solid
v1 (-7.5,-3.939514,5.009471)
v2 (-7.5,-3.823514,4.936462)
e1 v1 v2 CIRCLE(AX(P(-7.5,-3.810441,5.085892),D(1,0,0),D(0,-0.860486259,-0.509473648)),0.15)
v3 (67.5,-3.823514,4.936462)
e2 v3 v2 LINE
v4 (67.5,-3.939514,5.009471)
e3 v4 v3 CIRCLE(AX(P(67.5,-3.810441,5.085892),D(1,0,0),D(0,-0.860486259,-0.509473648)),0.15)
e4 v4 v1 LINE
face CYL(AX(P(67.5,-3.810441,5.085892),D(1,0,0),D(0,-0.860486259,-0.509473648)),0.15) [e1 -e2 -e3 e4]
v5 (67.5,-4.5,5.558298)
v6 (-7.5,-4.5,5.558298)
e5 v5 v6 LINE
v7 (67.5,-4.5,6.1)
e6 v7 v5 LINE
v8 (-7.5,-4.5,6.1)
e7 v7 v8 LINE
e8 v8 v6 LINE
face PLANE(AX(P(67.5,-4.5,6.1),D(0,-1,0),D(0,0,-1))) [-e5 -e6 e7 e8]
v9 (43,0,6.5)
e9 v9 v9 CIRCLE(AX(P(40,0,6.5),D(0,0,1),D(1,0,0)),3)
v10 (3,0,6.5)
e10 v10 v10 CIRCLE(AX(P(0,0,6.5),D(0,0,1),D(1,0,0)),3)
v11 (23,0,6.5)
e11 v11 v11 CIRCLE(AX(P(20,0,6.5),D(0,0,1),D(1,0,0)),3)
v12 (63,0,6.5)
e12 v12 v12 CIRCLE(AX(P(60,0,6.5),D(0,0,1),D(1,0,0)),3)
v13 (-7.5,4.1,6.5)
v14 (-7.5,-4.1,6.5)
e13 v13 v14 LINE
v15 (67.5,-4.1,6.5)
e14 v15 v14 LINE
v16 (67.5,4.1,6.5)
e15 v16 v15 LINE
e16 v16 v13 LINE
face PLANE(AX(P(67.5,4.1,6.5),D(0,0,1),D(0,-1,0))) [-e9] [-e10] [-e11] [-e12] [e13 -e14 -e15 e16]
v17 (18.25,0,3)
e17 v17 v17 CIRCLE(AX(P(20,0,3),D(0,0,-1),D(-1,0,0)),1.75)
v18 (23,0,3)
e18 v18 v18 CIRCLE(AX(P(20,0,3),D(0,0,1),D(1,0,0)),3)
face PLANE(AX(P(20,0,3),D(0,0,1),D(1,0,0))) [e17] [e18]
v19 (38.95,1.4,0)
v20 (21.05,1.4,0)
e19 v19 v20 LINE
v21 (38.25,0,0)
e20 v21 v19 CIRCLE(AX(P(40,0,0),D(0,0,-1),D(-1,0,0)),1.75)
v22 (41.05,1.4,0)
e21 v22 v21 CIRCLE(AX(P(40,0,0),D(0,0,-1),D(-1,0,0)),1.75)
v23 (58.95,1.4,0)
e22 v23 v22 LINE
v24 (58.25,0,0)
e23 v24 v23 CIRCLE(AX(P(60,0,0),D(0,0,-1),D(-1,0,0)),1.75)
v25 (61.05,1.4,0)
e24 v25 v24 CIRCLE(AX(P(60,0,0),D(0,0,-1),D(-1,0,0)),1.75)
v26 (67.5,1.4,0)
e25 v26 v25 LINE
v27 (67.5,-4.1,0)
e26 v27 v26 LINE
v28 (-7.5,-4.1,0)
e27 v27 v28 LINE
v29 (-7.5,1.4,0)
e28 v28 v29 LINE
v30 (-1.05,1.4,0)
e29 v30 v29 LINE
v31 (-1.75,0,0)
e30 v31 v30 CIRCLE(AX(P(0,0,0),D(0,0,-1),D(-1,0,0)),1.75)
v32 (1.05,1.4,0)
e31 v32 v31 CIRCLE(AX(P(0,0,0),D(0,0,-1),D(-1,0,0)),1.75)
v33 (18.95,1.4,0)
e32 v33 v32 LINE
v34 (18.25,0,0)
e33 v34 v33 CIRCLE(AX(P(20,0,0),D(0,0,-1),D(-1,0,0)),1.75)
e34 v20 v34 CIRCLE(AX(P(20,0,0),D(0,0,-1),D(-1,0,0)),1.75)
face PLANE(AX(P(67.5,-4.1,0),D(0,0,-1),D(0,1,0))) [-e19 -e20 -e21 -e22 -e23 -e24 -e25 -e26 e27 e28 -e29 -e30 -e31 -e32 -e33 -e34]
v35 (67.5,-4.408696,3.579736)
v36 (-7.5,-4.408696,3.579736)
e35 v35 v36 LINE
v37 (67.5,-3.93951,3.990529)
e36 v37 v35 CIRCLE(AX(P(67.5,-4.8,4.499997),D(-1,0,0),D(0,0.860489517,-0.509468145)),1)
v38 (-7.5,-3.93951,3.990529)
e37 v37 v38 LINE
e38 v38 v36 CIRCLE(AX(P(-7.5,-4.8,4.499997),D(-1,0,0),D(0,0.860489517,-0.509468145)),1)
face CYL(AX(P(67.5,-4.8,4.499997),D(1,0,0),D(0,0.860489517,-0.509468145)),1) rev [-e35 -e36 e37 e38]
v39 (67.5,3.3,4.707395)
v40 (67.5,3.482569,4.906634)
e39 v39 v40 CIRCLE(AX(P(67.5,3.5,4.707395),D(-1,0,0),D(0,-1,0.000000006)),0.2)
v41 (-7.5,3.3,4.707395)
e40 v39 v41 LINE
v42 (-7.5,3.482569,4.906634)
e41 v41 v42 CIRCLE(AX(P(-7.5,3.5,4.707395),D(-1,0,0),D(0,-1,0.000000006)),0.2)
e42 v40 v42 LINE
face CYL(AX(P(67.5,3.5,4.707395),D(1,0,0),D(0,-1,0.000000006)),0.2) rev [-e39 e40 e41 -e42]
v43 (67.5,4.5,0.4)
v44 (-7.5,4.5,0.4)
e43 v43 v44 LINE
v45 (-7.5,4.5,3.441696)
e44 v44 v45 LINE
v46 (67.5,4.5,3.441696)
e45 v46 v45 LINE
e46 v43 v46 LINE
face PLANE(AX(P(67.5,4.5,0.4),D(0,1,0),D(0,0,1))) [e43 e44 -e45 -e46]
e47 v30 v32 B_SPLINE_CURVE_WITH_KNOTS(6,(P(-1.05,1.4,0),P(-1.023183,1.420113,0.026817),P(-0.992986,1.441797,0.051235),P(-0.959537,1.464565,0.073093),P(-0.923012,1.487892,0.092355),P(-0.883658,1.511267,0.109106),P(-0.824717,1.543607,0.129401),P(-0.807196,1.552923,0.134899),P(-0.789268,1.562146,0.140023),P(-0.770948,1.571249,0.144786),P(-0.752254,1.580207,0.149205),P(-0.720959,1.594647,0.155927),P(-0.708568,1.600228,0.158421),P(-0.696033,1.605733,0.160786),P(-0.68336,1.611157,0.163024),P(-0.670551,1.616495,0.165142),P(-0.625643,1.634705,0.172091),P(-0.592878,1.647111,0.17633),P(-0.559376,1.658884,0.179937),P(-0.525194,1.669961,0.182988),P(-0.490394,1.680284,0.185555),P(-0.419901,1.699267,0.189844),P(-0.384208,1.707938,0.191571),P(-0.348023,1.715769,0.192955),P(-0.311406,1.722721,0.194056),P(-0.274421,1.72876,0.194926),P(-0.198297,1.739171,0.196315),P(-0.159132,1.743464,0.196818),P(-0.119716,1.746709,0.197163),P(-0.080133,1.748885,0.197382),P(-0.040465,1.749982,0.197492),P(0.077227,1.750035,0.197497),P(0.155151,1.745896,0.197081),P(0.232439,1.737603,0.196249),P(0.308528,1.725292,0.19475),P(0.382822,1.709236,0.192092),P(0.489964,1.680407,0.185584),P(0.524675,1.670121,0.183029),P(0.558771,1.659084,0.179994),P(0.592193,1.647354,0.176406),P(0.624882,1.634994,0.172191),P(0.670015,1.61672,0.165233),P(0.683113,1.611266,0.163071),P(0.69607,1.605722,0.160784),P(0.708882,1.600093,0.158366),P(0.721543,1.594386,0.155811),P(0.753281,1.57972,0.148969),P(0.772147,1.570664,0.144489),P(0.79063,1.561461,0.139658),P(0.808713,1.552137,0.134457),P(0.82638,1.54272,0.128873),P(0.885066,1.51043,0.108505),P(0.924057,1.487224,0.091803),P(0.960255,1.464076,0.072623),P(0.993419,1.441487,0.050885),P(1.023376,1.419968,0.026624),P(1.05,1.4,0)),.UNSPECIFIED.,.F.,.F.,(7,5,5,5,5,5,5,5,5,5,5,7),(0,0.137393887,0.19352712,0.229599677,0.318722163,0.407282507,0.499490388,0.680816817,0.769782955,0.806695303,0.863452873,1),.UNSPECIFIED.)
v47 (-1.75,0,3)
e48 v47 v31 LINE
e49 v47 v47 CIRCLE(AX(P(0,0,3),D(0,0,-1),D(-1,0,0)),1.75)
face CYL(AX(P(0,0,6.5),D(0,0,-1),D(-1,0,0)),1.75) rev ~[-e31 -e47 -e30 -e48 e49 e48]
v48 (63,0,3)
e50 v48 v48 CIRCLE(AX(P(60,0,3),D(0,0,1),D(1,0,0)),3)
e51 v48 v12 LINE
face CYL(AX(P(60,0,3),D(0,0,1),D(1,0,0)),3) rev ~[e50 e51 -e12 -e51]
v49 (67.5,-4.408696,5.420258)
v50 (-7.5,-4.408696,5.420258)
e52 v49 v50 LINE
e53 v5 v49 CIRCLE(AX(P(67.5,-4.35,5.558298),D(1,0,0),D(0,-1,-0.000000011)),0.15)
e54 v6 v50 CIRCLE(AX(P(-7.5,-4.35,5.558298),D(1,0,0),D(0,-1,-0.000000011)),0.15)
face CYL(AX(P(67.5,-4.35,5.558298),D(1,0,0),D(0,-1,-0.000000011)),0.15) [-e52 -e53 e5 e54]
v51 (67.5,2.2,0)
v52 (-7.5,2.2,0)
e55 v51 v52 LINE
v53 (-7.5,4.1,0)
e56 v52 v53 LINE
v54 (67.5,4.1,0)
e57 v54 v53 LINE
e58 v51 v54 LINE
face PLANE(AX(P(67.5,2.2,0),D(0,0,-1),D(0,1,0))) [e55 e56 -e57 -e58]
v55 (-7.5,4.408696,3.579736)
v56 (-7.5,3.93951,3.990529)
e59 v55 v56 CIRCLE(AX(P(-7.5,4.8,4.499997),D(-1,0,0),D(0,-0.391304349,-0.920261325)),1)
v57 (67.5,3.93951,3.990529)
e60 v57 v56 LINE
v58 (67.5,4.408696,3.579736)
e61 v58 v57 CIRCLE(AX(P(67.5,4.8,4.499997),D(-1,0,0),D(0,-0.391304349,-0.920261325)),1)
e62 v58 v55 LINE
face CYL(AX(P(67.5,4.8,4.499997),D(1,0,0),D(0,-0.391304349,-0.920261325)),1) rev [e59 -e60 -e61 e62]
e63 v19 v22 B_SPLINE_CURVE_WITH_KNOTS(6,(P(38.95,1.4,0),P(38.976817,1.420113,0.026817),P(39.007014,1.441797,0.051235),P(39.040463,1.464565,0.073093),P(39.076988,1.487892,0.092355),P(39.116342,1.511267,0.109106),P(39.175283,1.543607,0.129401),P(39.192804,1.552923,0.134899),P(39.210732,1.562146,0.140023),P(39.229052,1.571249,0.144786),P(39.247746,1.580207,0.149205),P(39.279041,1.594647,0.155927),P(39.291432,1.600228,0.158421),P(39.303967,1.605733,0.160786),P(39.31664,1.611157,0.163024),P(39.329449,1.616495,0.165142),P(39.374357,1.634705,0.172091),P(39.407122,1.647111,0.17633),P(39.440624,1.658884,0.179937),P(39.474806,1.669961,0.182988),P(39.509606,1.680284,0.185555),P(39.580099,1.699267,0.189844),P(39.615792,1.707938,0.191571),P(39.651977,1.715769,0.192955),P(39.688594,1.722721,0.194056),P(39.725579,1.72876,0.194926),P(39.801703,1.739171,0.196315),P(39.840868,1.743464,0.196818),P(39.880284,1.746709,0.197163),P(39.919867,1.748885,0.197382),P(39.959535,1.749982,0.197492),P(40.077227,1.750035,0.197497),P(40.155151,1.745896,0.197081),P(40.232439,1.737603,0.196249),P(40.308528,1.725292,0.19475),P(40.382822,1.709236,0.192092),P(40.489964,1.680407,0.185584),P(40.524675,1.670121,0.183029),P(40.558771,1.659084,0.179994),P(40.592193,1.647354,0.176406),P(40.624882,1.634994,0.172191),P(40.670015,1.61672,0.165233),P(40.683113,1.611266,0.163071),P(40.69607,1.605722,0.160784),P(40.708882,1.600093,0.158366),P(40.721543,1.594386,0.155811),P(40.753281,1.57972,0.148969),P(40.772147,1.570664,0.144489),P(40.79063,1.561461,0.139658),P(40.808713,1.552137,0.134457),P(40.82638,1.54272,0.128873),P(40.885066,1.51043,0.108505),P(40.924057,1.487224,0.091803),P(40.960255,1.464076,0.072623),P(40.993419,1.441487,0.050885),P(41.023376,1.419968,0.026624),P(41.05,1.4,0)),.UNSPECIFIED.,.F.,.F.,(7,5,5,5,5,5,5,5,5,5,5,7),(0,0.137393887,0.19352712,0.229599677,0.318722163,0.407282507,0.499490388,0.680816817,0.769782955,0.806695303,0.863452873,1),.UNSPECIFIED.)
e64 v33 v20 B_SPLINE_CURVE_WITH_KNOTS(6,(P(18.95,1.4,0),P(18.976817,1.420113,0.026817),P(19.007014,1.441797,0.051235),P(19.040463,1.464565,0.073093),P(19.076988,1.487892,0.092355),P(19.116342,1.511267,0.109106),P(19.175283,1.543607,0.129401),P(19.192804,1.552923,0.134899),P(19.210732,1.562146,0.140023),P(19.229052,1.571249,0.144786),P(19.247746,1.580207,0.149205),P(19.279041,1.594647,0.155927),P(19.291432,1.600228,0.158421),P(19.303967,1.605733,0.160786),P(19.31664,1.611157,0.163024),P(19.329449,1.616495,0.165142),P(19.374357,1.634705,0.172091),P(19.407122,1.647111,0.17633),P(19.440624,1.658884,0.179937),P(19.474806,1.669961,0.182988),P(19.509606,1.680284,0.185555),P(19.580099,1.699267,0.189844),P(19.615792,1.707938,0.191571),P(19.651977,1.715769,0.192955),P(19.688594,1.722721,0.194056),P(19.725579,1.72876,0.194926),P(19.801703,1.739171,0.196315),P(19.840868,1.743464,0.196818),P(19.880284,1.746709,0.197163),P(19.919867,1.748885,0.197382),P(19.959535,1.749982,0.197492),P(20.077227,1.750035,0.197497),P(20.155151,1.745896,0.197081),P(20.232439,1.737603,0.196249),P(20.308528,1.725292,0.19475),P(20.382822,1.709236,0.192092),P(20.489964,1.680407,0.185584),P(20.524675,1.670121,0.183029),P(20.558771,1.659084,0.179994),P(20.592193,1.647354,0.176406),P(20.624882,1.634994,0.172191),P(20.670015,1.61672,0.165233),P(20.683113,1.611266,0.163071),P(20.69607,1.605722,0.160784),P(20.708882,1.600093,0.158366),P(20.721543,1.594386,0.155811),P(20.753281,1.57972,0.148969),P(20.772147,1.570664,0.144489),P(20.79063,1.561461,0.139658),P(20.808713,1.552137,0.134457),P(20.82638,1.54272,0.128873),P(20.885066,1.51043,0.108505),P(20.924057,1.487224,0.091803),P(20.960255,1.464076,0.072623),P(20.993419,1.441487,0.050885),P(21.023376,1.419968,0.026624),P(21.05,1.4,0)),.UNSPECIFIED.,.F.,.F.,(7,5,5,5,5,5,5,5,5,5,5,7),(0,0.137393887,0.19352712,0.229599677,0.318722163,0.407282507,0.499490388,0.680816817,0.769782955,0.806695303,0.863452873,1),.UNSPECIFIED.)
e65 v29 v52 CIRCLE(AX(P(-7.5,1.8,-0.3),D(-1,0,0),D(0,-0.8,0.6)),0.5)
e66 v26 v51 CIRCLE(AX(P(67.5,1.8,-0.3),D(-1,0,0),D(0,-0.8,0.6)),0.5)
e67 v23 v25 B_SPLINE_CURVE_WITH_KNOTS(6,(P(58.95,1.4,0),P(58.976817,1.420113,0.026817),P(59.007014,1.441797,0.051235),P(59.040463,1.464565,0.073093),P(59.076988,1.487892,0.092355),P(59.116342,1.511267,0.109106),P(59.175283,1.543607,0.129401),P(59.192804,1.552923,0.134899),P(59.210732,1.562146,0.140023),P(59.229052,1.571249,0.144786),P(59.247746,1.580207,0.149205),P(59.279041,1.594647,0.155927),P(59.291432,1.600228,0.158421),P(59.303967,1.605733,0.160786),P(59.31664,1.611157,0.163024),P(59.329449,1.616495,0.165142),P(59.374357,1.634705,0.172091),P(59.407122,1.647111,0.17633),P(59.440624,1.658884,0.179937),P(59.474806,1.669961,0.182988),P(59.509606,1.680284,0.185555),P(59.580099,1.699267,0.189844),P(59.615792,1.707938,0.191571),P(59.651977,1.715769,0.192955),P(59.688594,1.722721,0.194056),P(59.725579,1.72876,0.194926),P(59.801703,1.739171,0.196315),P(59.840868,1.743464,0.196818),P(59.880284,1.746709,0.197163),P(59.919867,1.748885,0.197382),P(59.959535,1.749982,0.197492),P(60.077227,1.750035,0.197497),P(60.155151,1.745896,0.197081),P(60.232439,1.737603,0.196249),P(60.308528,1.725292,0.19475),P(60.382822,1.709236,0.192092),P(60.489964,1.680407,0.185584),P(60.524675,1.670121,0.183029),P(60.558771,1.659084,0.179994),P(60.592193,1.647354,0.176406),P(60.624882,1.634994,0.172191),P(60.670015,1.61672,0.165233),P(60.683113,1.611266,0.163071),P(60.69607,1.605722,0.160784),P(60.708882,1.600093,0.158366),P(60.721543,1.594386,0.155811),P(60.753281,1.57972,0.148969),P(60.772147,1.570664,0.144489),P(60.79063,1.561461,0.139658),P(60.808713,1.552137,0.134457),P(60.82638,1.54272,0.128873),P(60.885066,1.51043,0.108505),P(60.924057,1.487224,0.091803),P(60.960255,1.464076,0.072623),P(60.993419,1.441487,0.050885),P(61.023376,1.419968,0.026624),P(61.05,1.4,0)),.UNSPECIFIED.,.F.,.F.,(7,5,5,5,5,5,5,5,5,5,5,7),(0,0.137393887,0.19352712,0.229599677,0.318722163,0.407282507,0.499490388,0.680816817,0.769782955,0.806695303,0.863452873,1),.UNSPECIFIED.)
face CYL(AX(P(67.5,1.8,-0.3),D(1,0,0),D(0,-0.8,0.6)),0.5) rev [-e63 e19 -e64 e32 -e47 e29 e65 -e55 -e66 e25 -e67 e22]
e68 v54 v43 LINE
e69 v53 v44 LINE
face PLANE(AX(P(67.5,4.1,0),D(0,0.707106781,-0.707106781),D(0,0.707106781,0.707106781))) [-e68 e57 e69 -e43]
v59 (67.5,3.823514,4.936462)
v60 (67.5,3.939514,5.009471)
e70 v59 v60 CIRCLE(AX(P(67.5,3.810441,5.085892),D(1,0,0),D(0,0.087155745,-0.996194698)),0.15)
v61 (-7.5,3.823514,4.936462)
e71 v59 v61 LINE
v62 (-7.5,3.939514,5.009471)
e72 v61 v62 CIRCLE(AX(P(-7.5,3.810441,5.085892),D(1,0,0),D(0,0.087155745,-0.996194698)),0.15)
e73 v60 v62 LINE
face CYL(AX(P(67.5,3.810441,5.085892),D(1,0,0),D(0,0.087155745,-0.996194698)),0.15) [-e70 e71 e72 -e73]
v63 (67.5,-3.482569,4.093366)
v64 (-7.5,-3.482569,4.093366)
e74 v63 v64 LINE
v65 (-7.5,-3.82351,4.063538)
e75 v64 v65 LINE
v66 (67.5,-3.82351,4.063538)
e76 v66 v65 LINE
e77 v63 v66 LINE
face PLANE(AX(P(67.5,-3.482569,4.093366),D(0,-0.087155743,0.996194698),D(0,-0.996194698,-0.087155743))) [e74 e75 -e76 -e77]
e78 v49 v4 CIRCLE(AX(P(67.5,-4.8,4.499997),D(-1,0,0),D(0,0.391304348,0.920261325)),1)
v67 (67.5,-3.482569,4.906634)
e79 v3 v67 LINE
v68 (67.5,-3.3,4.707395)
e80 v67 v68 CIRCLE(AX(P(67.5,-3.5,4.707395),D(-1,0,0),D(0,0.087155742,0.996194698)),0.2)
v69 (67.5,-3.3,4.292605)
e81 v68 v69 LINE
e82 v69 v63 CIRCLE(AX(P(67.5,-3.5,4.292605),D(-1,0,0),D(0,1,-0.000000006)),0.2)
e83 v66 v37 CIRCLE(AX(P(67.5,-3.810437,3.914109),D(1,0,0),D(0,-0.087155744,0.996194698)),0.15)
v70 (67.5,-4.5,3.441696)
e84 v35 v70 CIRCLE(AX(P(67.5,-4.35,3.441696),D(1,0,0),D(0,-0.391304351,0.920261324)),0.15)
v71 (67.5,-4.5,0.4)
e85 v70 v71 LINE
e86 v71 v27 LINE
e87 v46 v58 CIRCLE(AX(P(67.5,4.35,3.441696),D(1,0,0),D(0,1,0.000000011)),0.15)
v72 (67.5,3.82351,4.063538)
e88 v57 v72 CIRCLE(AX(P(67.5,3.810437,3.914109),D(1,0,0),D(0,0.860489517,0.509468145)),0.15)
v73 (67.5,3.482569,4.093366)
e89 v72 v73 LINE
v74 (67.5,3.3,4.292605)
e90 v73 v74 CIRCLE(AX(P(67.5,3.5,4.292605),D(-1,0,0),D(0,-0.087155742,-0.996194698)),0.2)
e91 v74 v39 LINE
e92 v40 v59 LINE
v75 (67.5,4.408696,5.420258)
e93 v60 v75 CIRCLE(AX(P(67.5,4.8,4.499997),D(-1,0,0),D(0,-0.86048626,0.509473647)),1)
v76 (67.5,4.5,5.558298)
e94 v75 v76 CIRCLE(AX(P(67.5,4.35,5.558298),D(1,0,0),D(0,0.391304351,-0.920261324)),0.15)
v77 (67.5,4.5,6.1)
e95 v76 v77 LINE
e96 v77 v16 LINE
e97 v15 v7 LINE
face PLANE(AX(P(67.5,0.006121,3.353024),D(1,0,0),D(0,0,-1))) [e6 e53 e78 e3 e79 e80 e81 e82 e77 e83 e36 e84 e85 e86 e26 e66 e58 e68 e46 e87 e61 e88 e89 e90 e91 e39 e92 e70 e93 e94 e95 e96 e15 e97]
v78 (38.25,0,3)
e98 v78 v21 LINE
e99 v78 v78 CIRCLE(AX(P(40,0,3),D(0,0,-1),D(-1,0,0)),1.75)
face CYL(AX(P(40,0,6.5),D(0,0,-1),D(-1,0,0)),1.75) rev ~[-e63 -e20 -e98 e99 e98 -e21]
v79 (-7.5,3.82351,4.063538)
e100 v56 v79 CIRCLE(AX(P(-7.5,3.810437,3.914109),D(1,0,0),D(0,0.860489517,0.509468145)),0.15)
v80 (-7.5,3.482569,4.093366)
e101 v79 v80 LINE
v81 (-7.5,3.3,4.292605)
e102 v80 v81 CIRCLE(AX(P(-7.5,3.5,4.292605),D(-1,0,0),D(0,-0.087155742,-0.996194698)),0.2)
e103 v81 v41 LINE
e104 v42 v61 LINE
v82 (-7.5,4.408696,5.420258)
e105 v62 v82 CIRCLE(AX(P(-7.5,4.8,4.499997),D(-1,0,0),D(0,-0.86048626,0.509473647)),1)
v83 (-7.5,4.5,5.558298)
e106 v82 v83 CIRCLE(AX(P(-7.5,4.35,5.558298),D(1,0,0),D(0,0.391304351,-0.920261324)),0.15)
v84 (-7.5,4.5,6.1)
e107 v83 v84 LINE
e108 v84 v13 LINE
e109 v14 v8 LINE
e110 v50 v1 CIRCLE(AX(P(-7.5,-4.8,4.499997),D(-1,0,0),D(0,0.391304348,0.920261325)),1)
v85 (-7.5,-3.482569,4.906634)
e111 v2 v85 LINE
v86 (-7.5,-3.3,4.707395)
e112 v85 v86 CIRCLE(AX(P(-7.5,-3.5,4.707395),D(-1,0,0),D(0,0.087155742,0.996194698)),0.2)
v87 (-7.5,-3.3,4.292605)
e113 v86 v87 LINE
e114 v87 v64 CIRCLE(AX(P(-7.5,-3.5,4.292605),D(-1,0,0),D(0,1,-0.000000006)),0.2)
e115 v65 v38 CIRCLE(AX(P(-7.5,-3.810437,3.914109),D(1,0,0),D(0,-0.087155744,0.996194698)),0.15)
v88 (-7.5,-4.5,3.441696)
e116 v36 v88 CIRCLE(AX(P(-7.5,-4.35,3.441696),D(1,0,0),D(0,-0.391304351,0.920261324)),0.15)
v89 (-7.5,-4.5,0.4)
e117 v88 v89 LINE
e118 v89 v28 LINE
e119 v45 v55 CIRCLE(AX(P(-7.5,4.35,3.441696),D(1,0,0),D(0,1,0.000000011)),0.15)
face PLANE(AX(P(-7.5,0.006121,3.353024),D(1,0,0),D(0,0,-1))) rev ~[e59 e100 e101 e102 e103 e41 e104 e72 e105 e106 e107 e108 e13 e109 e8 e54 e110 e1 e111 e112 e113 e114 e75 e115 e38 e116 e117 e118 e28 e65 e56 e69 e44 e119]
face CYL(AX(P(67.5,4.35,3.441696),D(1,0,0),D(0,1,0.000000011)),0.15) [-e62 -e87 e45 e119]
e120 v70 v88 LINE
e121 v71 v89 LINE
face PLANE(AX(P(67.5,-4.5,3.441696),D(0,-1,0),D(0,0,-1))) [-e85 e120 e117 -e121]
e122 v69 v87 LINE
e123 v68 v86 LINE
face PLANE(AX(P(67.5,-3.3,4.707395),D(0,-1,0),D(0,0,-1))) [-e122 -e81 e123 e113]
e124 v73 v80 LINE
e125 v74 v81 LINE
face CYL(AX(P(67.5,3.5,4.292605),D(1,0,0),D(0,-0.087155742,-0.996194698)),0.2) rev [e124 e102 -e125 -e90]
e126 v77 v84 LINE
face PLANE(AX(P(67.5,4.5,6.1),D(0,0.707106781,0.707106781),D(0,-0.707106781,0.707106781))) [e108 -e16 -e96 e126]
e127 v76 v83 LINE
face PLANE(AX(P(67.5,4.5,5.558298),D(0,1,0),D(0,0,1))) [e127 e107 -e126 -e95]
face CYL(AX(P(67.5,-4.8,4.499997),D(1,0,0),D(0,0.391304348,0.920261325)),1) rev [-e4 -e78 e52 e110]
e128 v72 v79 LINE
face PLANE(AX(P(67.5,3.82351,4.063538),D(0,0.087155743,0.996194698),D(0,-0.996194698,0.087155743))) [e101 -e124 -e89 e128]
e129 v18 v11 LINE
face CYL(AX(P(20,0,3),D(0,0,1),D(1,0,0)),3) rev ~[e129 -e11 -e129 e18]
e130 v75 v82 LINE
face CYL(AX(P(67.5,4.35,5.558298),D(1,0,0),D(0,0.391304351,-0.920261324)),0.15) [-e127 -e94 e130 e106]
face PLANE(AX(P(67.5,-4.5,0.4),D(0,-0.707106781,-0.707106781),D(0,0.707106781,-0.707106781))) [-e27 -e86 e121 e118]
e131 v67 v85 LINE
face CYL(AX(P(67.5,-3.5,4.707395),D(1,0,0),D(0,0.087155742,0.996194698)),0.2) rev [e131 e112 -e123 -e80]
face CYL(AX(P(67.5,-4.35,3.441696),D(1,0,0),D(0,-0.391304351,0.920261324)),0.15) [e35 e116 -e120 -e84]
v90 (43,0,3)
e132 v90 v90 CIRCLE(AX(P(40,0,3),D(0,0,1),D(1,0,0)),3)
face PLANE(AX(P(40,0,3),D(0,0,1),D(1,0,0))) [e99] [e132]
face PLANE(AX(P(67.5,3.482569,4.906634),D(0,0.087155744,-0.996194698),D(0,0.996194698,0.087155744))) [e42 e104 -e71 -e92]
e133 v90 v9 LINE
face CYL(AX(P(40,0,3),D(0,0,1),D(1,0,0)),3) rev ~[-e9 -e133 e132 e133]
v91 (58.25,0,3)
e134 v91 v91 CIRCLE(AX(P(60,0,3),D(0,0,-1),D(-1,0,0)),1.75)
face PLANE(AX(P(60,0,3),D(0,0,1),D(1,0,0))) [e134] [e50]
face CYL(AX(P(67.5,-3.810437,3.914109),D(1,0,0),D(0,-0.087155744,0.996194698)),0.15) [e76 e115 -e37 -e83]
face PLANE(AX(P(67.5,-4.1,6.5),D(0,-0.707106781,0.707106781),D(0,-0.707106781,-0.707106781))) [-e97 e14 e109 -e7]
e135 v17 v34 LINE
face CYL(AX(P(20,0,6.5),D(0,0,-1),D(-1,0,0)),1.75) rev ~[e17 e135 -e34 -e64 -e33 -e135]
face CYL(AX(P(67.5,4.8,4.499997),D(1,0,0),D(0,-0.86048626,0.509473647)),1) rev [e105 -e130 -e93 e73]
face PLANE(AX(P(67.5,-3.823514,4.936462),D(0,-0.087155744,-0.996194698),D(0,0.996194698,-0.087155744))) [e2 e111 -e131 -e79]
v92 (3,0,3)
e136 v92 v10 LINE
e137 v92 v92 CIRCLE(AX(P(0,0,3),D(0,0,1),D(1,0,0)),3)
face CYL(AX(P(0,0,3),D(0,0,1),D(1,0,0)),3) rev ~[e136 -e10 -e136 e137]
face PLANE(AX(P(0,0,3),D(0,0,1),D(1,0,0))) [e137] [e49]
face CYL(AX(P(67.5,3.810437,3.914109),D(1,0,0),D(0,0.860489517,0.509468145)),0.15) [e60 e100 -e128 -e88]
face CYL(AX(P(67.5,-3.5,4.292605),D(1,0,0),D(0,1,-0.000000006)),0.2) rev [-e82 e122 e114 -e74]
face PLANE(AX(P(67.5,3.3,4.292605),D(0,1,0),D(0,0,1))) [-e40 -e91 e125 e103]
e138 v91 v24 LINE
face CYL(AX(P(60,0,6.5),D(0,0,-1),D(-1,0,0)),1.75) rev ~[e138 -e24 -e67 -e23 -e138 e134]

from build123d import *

# Parameters (mm, degrees)
BOSS_EXTRUDE1_DEPTH                              = 75
CBORE_FOR_M3_HEX_HEAD_MACHINE_SCREW2_D           = 3.5
CBORE_FOR_M3_HEX_HEAD_MACHINE_SCREW2_DEPTH       = 6.5
CBORE_FOR_M3_HEX_HEAD_MACHINE_SCREW2_CBORE_D     = 6
CBORE_FOR_M3_HEX_HEAD_MACHINE_SCREW2_CBORE_DEPTH = 3.5
LPATTERN2_COUNT                                  = 4
LPATTERN2_PITCH                                  = 20


with BuildPart() as part:
    # Sketch1 → Boss-Extrude1 (new body)
    with BuildSketch(Plane(origin=(67.5, 0, 0), x_dir=(0, 0, -1), z_dir=(1, 0, 0))):
        with BuildLine():
            Line((-3.441696476, -4.5), (-0.4, -4.5))
            Line((-0.4, -4.5), (0, -4.1))
            Line((0, -4.1), (0, 1.4))
            ThreePointArc((0, 1.4), (-0.2, 1.8), (0, 2.2))
            Line((0, 2.2), (0, 4.1))
            Line((0, 4.1), (-0.4, 4.5))
            Line((-0.4, 4.5), (-3.441696476, 4.5))
            ThreePointArc((-3.441696476, 4.5), (-3.524448068, 4.475108648), (-3.579735674, 4.408695652))
            ThreePointArc((-3.579735674, 4.408695652), (-3.747623907, 4.141262777), (-3.990528855, 3.939510483))
            ThreePointArc((-3.990528855, 3.939510483), (-4.041057421, 3.890337026), (-4.063537838, 3.823510417))
            Line((-4.063537838, 3.823510417), (-4.09336636, 3.482568852))
            ThreePointArc((-4.09336636, 3.482568852), (-4.157487258, 3.352544533), (-4.292605299, 3.3))
            Line((-4.292605299, 3.3), (-4.707394701, 3.3))
            ThreePointArc((-4.707394701, 3.3), (-4.842512742, 3.352544533), (-4.90663364, 3.482568852))
            Line((-4.90663364, 3.482568852), (-4.93646249, 3.823514163))
            ThreePointArc((-4.93646249, 3.823514163), (-4.958942652, 3.890340367), (-5.009470648, 3.939513741))
            ThreePointArc((-5.009470648, 3.939513741), (-5.252372199, 4.141265182), (-5.420258326, 4.408695652))
            ThreePointArc((-5.420258326, 4.408695652), (-5.475545932, 4.475108648), (-5.558297524, 4.5))
            Line((-5.558297524, 4.5), (-6.1, 4.5))
            Line((-6.1, 4.5), (-6.5, 4.1))
            Line((-6.5, 4.1), (-6.5, -4.1))
            Line((-6.5, -4.1), (-6.1, -4.5))
            Line((-6.1, -4.5), (-5.558297524, -4.5))
            ThreePointArc((-5.558297524, -4.5), (-5.475545932, -4.475108648), (-5.420258326, -4.408695652))
            ThreePointArc((-5.420258326, -4.408695652), (-5.252372199, -4.141265182), (-5.009470648, -3.939513741))
            ThreePointArc((-5.009470648, -3.939513741), (-4.958942652, -3.890340367), (-4.93646249, -3.823514163))
            Line((-4.93646249, -3.823514163), (-4.90663364, -3.482568852))
            ThreePointArc((-4.90663364, -3.482568852), (-4.842512742, -3.352544533), (-4.707394701, -3.3))
            Line((-4.707394701, -3.3), (-4.292605299, -3.3))
            ThreePointArc((-4.292605299, -3.3), (-4.157487258, -3.352544533), (-4.09336636, -3.482568852))
            Line((-4.09336636, -3.482568852), (-4.063537838, -3.823510417))
            ThreePointArc((-4.063537838, -3.823510417), (-4.041057421, -3.890337026), (-3.990528855, -3.939510483))
            ThreePointArc((-3.990528855, -3.939510483), (-3.747623907, -4.141262777), (-3.579735674, -4.408695652))
            ThreePointArc((-3.579735674, -4.408695652), (-3.524448068, -4.475108648), (-3.441696476, -4.5))
        make_face()
    extrude(amount=-BOSS_EXTRUDE1_DEPTH)

    # CBORE for M3 Hex Head Machine Screw2
    with Locations(Plane.XY.offset(6.5)):
        with Locations((0, 0)):
            cbore_for_m3_hex_head_machine_screw2 = CounterBoreHole(CBORE_FOR_M3_HEX_HEAD_MACHINE_SCREW2_D / 2, CBORE_FOR_M3_HEX_HEAD_MACHINE_SCREW2_CBORE_D / 2, CBORE_FOR_M3_HEX_HEAD_MACHINE_SCREW2_CBORE_DEPTH, depth=CBORE_FOR_M3_HEX_HEAD_MACHINE_SCREW2_DEPTH)

    # LPattern2: CBORE for M3 Hex Head Machine Screw2 ×4
    with Locations(*[(i * LPATTERN2_PITCH, 0, 0) for i in range(1, LPATTERN2_COUNT)]):
        add(cbore_for_m3_hex_head_machine_screw2, mode=Mode.SUBTRACT)


solid = part.part
